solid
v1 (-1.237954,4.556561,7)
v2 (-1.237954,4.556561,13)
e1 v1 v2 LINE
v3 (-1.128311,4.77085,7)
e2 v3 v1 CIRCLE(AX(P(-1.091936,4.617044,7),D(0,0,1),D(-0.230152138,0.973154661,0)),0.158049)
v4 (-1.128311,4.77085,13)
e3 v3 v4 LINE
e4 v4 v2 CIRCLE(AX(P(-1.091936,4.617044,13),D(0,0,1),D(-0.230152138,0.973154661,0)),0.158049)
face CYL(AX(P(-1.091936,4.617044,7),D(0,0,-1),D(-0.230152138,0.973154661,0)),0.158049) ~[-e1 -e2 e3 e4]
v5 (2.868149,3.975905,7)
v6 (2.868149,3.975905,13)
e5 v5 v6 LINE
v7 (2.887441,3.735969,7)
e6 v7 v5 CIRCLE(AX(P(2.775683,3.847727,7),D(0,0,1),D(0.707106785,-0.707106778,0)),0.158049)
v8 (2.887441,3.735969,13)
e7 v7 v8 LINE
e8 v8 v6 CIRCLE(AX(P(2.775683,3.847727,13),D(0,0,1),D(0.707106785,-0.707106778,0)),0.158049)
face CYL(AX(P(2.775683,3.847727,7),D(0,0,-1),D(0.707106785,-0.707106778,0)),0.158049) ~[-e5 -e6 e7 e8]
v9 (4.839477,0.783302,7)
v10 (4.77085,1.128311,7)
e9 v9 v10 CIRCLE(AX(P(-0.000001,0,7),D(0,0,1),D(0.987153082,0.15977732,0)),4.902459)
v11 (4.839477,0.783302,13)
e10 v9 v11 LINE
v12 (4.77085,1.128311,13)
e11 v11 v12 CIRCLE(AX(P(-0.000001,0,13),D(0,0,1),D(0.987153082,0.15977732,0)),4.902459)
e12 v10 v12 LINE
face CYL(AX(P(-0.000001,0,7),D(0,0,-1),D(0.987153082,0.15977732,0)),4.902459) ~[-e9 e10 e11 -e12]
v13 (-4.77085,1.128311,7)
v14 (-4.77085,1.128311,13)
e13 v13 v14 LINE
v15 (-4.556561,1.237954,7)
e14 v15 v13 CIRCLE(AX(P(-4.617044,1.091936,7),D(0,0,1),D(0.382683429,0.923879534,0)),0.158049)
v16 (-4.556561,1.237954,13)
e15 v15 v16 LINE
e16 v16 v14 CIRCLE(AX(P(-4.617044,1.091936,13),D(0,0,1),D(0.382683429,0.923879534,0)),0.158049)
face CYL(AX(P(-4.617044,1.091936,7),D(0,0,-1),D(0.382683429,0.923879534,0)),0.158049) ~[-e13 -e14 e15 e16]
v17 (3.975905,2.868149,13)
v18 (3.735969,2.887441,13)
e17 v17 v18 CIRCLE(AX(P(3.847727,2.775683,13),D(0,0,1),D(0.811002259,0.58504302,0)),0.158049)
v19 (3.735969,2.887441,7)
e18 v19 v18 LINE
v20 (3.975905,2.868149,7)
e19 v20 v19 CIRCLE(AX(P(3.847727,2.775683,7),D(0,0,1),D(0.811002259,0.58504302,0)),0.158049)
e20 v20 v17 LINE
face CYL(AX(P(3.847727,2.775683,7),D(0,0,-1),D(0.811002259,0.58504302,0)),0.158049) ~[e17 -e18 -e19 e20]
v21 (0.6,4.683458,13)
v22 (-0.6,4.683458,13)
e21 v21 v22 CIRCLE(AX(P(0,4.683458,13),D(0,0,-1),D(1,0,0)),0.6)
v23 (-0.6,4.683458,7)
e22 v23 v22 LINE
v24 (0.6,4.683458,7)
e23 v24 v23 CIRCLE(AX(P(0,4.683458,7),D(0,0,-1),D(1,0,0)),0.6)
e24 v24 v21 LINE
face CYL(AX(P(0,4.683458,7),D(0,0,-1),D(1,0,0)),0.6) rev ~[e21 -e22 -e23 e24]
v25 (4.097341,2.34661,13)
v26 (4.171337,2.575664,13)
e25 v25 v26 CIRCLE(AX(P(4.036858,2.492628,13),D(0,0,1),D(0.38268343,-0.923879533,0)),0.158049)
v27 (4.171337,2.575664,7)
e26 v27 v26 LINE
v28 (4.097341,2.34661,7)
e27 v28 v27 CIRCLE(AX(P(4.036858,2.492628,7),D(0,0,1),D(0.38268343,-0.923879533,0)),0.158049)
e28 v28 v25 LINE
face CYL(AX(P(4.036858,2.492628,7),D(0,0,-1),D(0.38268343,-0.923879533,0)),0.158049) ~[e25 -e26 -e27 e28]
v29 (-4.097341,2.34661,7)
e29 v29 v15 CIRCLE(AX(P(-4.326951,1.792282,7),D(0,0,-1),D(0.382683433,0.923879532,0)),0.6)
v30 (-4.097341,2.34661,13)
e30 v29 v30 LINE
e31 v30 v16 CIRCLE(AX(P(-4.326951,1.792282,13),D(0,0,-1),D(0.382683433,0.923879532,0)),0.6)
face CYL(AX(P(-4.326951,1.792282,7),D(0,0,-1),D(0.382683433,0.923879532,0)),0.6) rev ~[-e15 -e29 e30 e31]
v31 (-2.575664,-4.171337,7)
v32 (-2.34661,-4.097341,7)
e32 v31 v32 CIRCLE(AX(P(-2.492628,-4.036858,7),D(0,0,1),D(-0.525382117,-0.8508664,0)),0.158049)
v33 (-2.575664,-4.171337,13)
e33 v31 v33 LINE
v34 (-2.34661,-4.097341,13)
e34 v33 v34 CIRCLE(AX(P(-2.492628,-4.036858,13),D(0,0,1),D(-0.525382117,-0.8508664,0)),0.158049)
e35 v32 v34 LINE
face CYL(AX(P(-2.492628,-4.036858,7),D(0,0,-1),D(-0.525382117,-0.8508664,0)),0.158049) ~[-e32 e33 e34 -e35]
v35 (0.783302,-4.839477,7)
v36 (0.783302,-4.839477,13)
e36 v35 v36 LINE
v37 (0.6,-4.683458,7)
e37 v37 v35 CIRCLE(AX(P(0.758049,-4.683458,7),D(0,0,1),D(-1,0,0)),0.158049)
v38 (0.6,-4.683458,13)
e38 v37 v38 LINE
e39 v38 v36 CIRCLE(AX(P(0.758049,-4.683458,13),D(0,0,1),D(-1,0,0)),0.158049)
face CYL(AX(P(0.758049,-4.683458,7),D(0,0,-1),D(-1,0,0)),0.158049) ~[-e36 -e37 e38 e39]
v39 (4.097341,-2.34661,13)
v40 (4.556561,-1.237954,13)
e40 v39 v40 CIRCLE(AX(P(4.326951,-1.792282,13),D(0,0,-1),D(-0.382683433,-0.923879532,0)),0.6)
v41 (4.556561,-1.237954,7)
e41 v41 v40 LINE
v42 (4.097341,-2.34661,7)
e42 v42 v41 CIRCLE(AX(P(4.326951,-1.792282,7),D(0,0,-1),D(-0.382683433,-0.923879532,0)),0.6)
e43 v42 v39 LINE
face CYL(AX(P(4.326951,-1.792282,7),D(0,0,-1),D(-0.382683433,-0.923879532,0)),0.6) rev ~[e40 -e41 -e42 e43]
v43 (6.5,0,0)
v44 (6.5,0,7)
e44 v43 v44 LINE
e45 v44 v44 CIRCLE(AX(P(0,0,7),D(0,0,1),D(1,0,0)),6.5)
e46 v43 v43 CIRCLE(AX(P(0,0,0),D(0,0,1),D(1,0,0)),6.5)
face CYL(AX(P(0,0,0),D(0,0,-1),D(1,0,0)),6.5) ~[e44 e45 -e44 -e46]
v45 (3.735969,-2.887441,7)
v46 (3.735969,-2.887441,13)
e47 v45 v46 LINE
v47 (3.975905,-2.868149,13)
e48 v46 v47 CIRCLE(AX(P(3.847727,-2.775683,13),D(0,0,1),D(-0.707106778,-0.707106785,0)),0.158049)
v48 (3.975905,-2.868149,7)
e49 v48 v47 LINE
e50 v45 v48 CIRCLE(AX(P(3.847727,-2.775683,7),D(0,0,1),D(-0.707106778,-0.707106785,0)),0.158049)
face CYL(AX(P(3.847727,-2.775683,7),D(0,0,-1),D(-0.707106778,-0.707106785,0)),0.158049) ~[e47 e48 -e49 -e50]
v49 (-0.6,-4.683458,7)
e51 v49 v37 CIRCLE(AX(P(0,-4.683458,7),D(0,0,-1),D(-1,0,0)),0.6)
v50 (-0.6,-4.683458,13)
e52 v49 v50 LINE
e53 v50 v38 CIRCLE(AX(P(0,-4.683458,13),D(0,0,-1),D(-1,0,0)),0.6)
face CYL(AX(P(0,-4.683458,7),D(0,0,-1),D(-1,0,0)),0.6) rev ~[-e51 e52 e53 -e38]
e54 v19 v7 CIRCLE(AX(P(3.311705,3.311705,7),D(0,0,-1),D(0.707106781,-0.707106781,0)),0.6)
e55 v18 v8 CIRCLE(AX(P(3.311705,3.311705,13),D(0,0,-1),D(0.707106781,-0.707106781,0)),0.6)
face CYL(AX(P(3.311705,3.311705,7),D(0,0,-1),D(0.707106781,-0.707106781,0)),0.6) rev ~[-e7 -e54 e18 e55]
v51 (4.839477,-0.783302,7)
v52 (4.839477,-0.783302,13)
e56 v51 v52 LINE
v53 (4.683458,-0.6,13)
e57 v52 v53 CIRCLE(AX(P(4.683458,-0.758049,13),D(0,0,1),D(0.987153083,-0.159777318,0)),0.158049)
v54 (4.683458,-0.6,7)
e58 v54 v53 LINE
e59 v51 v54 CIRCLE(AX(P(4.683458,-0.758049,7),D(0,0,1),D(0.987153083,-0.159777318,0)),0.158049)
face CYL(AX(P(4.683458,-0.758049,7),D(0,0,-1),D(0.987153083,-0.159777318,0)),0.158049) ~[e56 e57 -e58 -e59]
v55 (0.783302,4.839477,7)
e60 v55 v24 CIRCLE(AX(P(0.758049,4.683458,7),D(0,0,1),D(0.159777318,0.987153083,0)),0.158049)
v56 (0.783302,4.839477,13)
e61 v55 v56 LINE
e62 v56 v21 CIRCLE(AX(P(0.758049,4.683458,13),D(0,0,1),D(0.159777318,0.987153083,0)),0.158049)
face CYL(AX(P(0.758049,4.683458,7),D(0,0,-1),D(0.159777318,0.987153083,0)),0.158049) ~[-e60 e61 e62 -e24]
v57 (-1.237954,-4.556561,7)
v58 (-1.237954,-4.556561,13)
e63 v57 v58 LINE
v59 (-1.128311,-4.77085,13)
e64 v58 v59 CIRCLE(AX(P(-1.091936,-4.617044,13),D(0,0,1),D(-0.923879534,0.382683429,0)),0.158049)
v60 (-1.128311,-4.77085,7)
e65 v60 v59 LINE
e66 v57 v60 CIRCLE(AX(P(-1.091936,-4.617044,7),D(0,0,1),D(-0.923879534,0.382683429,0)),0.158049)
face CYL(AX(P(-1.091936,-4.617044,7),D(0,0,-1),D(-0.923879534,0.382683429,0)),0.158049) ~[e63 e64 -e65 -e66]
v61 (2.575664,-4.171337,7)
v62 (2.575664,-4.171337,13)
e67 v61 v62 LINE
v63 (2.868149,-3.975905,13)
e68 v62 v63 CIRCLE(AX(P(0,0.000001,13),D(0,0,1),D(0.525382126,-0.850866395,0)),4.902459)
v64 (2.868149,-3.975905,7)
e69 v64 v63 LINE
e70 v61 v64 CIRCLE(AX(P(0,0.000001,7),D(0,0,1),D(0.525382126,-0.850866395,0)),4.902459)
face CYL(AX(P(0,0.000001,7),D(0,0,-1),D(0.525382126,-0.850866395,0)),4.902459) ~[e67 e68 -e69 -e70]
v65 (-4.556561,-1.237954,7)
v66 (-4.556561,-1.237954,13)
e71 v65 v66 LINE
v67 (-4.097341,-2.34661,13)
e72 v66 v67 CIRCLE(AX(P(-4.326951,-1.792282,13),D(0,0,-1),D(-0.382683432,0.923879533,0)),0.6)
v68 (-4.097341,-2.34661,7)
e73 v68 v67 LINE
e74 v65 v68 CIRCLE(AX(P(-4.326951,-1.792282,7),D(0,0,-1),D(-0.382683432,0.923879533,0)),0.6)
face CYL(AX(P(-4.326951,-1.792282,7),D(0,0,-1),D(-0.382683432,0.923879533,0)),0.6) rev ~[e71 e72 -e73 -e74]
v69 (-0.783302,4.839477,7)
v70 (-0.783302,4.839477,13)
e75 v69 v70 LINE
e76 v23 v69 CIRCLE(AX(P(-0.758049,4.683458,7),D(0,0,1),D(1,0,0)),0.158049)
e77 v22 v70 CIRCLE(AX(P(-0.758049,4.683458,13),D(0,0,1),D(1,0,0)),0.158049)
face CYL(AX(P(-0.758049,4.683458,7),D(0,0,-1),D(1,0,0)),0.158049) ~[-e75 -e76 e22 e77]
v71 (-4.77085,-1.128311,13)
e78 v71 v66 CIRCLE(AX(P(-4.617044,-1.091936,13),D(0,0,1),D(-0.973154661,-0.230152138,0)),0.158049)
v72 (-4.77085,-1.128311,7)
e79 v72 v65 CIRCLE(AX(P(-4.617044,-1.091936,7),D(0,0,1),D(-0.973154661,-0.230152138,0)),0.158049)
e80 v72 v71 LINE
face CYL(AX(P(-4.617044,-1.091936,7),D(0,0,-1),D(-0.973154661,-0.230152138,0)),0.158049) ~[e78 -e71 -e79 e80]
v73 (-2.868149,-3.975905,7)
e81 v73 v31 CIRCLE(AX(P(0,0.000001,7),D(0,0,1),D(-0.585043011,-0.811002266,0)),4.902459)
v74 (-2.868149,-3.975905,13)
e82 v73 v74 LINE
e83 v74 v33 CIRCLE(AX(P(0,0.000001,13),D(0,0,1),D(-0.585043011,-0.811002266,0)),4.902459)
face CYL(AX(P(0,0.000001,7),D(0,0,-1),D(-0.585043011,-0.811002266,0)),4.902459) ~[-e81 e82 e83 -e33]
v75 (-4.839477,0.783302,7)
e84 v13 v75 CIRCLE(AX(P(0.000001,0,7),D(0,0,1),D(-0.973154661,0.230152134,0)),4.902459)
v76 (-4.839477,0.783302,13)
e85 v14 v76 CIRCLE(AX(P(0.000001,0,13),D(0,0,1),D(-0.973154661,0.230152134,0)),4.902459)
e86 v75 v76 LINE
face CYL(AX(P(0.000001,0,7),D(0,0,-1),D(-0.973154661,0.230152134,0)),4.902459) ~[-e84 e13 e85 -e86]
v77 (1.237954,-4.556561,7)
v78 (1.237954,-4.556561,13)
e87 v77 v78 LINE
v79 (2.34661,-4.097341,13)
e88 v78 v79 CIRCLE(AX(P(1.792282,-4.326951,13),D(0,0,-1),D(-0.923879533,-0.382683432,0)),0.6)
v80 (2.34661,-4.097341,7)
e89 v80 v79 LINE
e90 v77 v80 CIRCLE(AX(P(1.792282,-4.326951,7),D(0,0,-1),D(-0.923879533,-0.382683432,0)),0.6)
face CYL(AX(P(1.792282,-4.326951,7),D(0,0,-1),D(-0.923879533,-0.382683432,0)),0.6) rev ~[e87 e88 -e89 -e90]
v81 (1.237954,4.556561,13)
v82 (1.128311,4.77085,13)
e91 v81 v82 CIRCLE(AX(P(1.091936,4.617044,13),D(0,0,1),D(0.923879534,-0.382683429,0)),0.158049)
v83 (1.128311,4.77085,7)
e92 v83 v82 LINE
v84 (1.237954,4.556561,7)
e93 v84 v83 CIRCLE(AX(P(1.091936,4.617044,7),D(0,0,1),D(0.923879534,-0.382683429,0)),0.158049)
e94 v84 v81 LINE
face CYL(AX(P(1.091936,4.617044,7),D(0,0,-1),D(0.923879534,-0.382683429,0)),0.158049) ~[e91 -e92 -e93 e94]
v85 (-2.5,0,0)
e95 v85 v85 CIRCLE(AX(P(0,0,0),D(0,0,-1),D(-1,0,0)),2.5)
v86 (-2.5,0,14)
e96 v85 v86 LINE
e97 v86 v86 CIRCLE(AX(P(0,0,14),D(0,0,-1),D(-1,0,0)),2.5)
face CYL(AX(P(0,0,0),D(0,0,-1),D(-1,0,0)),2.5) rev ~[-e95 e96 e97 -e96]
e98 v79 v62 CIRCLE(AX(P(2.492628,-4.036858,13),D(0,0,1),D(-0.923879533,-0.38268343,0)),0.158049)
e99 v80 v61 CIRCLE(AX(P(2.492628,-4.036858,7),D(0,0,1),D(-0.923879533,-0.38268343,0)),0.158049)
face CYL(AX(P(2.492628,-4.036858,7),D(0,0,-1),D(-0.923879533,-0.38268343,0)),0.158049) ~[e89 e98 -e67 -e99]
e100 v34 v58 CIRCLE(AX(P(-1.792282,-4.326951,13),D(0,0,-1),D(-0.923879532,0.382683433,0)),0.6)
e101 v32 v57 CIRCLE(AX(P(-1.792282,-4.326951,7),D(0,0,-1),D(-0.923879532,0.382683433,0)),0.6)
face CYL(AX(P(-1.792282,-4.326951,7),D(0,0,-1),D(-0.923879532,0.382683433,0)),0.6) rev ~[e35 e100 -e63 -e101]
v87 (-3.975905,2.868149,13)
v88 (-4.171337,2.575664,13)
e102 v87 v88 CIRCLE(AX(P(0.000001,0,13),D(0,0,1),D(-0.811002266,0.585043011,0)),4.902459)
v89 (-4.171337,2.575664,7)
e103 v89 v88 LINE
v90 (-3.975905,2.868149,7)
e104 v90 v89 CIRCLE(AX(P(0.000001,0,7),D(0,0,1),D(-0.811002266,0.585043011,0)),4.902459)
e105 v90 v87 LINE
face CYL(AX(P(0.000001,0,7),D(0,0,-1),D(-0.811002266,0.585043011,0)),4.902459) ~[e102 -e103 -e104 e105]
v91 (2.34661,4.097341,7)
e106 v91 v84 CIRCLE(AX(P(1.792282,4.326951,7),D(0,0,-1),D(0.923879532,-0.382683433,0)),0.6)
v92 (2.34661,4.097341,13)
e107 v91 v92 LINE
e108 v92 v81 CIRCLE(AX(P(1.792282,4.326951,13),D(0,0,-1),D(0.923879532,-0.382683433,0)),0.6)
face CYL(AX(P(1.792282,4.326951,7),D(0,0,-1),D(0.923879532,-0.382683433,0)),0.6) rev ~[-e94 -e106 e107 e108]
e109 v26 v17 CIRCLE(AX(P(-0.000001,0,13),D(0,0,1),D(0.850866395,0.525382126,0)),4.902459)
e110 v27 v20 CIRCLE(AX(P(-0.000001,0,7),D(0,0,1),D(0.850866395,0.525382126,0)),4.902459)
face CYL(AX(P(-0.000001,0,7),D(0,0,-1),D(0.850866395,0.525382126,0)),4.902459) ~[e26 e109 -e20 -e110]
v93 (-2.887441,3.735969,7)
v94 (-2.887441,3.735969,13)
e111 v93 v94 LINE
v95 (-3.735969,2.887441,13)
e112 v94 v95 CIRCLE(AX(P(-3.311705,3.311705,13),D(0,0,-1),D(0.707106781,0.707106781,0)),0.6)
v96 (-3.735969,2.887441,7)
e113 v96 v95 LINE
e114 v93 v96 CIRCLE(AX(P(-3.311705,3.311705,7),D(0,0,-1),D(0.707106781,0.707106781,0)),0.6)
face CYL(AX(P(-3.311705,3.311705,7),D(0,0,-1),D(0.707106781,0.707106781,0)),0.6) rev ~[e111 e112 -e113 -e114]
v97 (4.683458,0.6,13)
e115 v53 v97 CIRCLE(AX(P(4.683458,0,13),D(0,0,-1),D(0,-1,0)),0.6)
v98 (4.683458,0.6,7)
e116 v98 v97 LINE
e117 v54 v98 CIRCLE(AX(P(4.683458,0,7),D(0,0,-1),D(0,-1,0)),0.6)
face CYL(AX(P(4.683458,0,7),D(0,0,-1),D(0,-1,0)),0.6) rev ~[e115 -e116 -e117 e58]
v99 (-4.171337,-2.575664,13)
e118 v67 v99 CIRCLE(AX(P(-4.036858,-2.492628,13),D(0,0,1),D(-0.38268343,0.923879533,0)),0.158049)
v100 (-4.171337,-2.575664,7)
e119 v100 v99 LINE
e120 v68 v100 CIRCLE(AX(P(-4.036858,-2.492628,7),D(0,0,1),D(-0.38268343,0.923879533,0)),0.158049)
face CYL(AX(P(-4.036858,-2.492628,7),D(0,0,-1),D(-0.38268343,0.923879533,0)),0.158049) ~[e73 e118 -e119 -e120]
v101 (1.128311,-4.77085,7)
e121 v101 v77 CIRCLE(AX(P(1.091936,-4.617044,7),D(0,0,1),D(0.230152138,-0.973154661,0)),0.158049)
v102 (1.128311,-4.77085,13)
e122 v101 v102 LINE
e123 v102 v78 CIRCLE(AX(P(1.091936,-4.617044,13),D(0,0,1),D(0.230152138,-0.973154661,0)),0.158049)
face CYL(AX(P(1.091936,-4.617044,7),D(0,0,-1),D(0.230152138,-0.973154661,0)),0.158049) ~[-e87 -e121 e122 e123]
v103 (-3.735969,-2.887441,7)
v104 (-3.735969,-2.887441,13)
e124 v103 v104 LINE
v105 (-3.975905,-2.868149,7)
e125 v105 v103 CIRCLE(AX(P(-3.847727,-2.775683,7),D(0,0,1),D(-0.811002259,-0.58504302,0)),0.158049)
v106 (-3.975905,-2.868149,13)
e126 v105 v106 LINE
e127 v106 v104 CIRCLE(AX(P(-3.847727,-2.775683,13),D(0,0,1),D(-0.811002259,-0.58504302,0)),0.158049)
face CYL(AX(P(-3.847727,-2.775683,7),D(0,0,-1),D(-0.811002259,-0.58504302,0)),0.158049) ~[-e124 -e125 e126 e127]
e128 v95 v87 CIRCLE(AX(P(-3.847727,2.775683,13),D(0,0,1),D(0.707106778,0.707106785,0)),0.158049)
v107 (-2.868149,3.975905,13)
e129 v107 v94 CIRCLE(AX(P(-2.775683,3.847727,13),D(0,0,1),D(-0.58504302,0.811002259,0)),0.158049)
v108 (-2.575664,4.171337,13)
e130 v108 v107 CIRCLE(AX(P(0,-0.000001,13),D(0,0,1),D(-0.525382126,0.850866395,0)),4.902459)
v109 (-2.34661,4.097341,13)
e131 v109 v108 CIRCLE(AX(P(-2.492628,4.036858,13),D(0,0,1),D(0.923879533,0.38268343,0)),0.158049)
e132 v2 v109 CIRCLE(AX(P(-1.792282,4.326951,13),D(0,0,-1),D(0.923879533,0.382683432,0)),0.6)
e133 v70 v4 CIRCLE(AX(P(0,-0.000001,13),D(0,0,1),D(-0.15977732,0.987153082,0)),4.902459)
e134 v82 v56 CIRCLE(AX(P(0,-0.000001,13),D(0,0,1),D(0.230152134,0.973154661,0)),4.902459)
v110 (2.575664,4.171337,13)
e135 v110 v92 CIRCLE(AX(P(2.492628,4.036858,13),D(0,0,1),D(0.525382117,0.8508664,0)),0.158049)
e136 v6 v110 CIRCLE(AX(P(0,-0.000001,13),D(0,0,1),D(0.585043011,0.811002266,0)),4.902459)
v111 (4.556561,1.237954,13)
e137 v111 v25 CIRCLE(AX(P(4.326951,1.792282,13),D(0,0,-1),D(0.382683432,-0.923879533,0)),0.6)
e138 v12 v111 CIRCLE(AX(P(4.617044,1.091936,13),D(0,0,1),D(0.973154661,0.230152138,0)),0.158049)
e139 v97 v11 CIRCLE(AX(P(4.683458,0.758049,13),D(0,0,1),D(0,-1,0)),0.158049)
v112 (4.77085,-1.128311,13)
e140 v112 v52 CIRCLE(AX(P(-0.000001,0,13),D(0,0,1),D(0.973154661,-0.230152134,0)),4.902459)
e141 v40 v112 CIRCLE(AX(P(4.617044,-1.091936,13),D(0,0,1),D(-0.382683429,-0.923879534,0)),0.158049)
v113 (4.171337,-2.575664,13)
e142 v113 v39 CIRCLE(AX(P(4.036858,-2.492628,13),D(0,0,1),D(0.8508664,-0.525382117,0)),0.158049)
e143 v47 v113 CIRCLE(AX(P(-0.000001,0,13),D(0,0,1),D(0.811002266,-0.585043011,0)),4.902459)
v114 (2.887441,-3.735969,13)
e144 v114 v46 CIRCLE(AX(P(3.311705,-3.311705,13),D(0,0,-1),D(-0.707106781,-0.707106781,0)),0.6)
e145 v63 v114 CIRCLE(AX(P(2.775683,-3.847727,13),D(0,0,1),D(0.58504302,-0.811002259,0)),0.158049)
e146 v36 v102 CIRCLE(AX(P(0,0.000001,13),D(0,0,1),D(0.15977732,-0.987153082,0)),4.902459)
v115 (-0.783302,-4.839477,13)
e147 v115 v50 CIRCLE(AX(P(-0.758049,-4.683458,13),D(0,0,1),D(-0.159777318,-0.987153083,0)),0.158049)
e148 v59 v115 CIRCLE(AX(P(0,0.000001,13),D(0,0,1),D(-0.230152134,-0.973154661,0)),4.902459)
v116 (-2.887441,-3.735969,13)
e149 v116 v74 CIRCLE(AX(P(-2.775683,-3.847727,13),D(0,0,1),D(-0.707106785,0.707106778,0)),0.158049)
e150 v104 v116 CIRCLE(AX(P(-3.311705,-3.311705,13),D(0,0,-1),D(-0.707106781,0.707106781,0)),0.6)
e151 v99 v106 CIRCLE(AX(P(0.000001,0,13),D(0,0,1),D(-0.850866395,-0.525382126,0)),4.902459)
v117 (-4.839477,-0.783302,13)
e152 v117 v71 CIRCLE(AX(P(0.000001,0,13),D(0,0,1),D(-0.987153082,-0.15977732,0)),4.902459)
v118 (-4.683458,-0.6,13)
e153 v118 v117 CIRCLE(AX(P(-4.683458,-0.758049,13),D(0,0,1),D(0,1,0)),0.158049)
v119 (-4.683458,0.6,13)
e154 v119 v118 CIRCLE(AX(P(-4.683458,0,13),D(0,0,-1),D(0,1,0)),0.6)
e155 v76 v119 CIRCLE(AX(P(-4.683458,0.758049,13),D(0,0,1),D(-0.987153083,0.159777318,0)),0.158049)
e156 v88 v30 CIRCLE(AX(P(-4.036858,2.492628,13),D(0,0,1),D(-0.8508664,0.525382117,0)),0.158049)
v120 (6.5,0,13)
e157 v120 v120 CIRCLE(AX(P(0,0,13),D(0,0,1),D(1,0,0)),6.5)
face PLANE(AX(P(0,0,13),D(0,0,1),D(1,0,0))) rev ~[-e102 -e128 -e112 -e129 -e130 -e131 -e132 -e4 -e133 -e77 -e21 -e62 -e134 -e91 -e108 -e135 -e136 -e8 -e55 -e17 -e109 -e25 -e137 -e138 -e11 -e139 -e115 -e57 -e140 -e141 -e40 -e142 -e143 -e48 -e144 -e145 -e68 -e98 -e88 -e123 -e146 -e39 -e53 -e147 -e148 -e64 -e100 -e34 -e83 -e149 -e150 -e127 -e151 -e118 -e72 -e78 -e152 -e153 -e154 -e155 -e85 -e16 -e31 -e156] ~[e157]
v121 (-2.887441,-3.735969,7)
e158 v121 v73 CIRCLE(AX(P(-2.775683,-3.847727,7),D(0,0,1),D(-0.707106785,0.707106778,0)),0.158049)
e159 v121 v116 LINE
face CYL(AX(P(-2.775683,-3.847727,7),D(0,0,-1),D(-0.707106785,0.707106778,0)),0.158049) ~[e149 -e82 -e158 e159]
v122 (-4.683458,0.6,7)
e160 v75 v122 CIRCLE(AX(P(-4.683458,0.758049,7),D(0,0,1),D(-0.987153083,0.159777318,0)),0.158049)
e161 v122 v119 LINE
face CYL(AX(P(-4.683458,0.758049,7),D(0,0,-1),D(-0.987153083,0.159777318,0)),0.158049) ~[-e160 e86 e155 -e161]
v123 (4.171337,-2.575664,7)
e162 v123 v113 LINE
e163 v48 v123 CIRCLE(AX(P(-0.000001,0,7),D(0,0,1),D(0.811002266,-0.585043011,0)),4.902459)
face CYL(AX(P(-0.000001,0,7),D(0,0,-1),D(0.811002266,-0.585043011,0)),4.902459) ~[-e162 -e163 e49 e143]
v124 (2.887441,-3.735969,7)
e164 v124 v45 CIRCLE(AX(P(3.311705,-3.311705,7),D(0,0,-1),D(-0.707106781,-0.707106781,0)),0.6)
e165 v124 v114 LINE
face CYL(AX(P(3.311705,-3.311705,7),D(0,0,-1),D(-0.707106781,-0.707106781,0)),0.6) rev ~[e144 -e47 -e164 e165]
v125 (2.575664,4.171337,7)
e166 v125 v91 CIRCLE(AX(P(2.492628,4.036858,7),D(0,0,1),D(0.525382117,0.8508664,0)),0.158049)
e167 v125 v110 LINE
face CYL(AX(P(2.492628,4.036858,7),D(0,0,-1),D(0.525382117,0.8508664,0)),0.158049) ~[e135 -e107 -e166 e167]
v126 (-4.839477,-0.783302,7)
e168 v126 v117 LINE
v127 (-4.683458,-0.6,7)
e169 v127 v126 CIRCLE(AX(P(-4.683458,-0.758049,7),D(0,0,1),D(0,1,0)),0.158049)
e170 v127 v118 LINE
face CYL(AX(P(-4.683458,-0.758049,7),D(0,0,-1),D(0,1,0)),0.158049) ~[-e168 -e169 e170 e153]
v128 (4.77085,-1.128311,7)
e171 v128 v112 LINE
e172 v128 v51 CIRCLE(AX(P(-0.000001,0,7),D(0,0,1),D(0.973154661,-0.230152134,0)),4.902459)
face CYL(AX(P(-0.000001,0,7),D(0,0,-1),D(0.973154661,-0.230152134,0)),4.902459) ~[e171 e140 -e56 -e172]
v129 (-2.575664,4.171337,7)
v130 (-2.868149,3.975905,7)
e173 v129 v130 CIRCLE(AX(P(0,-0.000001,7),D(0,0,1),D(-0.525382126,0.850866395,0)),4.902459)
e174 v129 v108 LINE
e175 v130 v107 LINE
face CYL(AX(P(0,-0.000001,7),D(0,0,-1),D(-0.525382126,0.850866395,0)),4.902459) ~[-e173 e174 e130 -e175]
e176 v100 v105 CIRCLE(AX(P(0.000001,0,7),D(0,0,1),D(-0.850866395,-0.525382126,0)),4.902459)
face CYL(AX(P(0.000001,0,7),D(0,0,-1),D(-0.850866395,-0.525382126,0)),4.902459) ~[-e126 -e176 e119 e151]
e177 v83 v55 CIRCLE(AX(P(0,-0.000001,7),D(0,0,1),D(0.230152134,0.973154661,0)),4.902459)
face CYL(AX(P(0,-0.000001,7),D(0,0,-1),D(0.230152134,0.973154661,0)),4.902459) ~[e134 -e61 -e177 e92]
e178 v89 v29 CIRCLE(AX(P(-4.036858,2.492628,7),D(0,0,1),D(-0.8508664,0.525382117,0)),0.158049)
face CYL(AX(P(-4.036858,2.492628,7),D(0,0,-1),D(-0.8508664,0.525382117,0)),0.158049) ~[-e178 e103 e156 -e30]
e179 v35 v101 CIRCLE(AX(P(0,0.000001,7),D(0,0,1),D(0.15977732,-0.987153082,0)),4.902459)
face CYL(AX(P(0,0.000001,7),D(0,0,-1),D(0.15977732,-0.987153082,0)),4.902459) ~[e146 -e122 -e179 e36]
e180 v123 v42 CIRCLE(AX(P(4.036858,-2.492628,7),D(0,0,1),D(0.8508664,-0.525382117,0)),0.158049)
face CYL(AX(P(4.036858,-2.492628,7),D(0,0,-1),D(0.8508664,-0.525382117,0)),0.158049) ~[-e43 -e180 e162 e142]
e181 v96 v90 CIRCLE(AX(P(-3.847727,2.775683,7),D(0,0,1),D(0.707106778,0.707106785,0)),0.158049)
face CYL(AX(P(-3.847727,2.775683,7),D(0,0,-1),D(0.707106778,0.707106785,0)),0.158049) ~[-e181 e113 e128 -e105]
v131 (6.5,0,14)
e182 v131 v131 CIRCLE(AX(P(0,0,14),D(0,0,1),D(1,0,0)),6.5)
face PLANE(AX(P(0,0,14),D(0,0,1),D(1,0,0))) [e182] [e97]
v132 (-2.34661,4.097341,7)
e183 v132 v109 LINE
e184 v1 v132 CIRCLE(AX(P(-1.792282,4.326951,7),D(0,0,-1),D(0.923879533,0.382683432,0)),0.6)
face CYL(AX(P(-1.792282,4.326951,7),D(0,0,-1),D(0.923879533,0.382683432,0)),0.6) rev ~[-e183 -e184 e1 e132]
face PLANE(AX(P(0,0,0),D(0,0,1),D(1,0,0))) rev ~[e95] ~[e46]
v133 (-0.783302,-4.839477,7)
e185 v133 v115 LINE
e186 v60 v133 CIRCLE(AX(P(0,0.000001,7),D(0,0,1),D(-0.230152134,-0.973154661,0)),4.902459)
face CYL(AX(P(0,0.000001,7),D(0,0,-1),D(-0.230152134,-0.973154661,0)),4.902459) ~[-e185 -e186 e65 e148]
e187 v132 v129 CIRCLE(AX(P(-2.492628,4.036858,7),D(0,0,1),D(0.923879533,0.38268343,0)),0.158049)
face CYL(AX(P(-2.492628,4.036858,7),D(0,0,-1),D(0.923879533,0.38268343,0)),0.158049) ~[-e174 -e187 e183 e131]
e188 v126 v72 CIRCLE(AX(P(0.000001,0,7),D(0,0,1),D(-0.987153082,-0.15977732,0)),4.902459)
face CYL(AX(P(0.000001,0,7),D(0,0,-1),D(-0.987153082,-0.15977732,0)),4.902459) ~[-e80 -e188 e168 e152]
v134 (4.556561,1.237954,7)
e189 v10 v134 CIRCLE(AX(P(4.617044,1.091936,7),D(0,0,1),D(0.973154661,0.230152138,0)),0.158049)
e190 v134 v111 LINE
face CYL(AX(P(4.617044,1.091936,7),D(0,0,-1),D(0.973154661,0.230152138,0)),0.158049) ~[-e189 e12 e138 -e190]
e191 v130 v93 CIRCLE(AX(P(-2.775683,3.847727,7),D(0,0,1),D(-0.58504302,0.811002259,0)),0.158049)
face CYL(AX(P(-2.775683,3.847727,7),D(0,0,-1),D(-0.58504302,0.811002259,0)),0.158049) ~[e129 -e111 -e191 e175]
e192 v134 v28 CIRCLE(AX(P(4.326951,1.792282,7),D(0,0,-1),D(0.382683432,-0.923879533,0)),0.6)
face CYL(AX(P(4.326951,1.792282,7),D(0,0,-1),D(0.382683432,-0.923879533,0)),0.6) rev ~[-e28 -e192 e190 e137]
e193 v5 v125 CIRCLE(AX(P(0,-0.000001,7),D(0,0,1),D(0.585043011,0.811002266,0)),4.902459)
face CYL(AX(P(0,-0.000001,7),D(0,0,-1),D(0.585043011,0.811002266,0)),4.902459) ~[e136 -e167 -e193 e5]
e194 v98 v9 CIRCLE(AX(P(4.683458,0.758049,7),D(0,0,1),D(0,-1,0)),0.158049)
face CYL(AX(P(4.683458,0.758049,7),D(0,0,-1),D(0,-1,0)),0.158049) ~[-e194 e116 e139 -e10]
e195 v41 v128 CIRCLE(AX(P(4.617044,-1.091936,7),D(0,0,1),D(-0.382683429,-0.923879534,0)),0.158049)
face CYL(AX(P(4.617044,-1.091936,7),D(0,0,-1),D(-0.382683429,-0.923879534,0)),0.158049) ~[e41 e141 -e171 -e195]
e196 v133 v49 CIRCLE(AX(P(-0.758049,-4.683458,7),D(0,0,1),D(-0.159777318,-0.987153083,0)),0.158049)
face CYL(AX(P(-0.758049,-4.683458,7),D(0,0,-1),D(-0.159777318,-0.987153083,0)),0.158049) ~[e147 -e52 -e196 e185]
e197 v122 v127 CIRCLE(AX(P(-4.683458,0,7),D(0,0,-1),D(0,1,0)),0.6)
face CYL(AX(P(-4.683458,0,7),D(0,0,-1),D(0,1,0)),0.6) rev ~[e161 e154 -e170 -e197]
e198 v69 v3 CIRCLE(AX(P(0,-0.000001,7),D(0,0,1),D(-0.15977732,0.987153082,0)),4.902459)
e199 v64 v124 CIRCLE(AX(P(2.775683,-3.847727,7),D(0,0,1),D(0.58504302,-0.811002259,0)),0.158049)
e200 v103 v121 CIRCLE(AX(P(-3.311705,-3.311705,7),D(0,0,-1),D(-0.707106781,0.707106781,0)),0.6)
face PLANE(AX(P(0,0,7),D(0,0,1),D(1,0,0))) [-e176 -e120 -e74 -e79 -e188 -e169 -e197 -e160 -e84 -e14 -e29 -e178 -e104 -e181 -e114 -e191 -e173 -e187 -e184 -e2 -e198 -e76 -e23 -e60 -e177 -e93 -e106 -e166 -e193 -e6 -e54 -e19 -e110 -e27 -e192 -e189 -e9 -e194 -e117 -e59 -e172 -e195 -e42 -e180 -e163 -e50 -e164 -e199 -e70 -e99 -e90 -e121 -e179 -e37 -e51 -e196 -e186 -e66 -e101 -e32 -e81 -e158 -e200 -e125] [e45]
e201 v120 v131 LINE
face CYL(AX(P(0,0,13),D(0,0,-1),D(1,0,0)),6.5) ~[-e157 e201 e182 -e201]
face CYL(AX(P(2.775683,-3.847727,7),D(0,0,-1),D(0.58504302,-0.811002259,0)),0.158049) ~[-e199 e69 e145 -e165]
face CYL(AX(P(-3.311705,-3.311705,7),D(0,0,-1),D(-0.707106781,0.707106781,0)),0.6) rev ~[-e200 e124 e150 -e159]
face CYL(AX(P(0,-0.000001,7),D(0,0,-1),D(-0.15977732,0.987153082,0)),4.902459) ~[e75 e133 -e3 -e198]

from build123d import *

# Parameters (mm, degrees)
SKETCH_1_R          = 6.5
EXTRUDE_1_DEPTH     = 7
EXTRUDE_2_DEPTH     = 6
SKETCH_4_R          = 6.5
EXTRUDE_3_DEPTH     = 1
SKETCH_5_R          = 2.5
CUT_EXTRUDE_1_DEPTH = 17.748134224


with BuildPart() as part:
    # 草图1 → 凸台-拉伸1 (new body)
    with BuildSketch(Plane.XY):
        Circle(SKETCH_1_R)
    extrude(amount=EXTRUDE_1_DEPTH)

    # 草图2 → 凸台-拉伸2 (add)
    with BuildSketch(Plane.XY.offset(7)):
        with BuildLine():
            ThreePointArc((-0.599999991, 4.683458109), (-0.655607945, 4.803813062), (-0.783301597, 4.839476633))
            ThreePointArc((-0.783301597, 4.839476633), (-0.95642213, 4.808258747), (-1.128311215, 4.770849953))
            ThreePointArc((-1.128311215, 4.770849953), (-1.232636909, 4.689034864), (-1.237954113, 4.556561144))
            ThreePointArc((-1.237954113, 4.556561144), (-1.562671768, 3.772623377), (-2.346609536, 4.097341032))
            ThreePointArc((-2.346609536, 4.097341032), (-2.444042432, 4.187254267), (-2.575663842, 4.171336866))
            ThreePointArc((-2.575663842, 4.171336866), (-2.723659792, 4.07624494), (-2.868148874, 3.975904616))
            ThreePointArc((-2.868148874, 3.975904616), (-2.933223968, 3.860393615), (-2.887440926, 3.73596905))
            ThreePointArc((-2.887440926, 3.73596905), (-2.887440926, 2.887440926), (-3.73596905, 2.887440926))
            ThreePointArc((-3.73596905, 2.887440926), (-3.860393615, 2.933223968), (-3.975904616, 2.868148874))
            ThreePointArc((-3.975904616, 2.868148874), (-4.07624494, 2.723659792), (-4.171336866, 2.575663842))
            ThreePointArc((-4.171336866, 2.575663842), (-4.187254267, 2.444042432), (-4.097341032, 2.346609535))
            ThreePointArc((-4.097341032, 2.346609535), (-3.772623377, 1.562671768), (-4.556561144, 1.237954113))
            ThreePointArc((-4.556561144, 1.237954113), (-4.689034864, 1.232636909), (-4.770849953, 1.128311215))
            ThreePointArc((-4.770849953, 1.128311215), (-4.808258747, 0.95642213), (-4.839476633, 0.783301597))
            ThreePointArc((-4.839476633, 0.783301597), (-4.803813062, 0.655607945), (-4.683458109, 0.599999991))
            ThreePointArc((-4.683458109, 0.599999991), (-4.083458118, 0), (-4.683458109, -0.599999991))
            ThreePointArc((-4.683458109, -0.599999991), (-4.803813062, -0.655607945), (-4.839476633, -0.783301597))
            ThreePointArc((-4.839476633, -0.783301597), (-4.808258747, -0.95642213), (-4.770849953, -1.128311215))
            ThreePointArc((-4.770849953, -1.128311215), (-4.689034864, -1.232636909), (-4.556561144, -1.237954113))
            ThreePointArc((-4.556561144, -1.237954113), (-3.772623377, -1.562671768), (-4.097341032, -2.346609536))
            ThreePointArc((-4.097341032, -2.346609536), (-4.187254267, -2.444042432), (-4.171336866, -2.575663842))
            ThreePointArc((-4.171336866, -2.575663842), (-4.07624494, -2.723659792), (-3.975904616, -2.868148874))
            ThreePointArc((-3.975904616, -2.868148874), (-3.860393615, -2.933223968), (-3.73596905, -2.887440926))
            ThreePointArc((-3.73596905, -2.887440926), (-2.887440926, -2.887440926), (-2.887440926, -3.73596905))
            ThreePointArc((-2.887440926, -3.73596905), (-2.933223968, -3.860393615), (-2.868148874, -3.975904616))
            ThreePointArc((-2.868148874, -3.975904616), (-2.723659792, -4.07624494), (-2.575663842, -4.171336866))
            ThreePointArc((-2.575663842, -4.171336866), (-2.444042432, -4.187254267), (-2.346609535, -4.097341032))
            ThreePointArc((-2.346609535, -4.097341032), (-1.562671768, -3.772623377), (-1.237954113, -4.556561144))
            ThreePointArc((-1.237954113, -4.556561144), (-1.232636909, -4.689034864), (-1.128311215, -4.770849953))
            ThreePointArc((-1.128311215, -4.770849953), (-0.95642213, -4.808258747), (-0.783301597, -4.839476633))
            ThreePointArc((-0.783301597, -4.839476633), (-0.655607945, -4.803813062), (-0.599999991, -4.683458109))
            ThreePointArc((-0.599999991, -4.683458109), (0, -4.083458118), (0.599999991, -4.683458109))
            ThreePointArc((0.599999991, -4.683458109), (0.655607945, -4.803813062), (0.783301597, -4.839476633))
            ThreePointArc((0.783301597, -4.839476633), (0.95642213, -4.808258747), (1.128311215, -4.770849953))
            ThreePointArc((1.128311215, -4.770849953), (1.232636909, -4.689034864), (1.237954113, -4.556561144))
            ThreePointArc((1.237954113, -4.556561144), (1.562671768, -3.772623377), (2.346609536, -4.097341032))
            ThreePointArc((2.346609536, -4.097341032), (2.444042432, -4.187254267), (2.575663842, -4.171336866))
            ThreePointArc((2.575663842, -4.171336866), (2.723659792, -4.07624494), (2.868148874, -3.975904616))
            ThreePointArc((2.868148874, -3.975904616), (2.933223968, -3.860393615), (2.887440926, -3.73596905))
            ThreePointArc((2.887440926, -3.73596905), (2.887440926, -2.887440926), (3.73596905, -2.887440926))
            ThreePointArc((3.73596905, -2.887440926), (3.860393615, -2.933223968), (3.975904616, -2.868148874))
            ThreePointArc((3.975904616, -2.868148874), (4.07624494, -2.723659792), (4.171336866, -2.575663842))
            ThreePointArc((4.171336866, -2.575663842), (4.187254267, -2.444042432), (4.097341032, -2.346609535))
            ThreePointArc((4.097341032, -2.346609535), (3.772623377, -1.562671768), (4.556561144, -1.237954113))
            ThreePointArc((4.556561144, -1.237954113), (4.689034864, -1.232636909), (4.770849953, -1.128311215))
            ThreePointArc((4.770849953, -1.128311215), (4.808258747, -0.95642213), (4.839476633, -0.783301597))
            ThreePointArc((4.839476633, -0.783301597), (4.803813062, -0.655607945), (4.683458109, -0.599999991))
            ThreePointArc((4.683458109, -0.599999991), (4.083458118, 0), (4.683458109, 0.599999991))
            ThreePointArc((4.683458109, 0.599999991), (4.803813062, 0.655607945), (4.839476633, 0.783301597))
            ThreePointArc((4.839476633, 0.783301597), (4.808258747, 0.95642213), (4.770849953, 1.128311215))
            ThreePointArc((4.770849953, 1.128311215), (4.689034864, 1.232636909), (4.556561144, 1.237954113))
            ThreePointArc((4.556561144, 1.237954113), (3.772623377, 1.562671768), (4.097341032, 2.346609536))
            ThreePointArc((4.097341032, 2.346609536), (4.187254267, 2.444042432), (4.171336866, 2.575663842))
            ThreePointArc((4.171336866, 2.575663842), (4.07624494, 2.723659792), (3.975904616, 2.868148874))
            ThreePointArc((3.975904616, 2.868148874), (3.860393615, 2.933223968), (3.73596905, 2.887440926))
            ThreePointArc((3.73596905, 2.887440926), (2.887440926, 2.887440926), (2.887440926, 3.73596905))
            ThreePointArc((2.887440926, 3.73596905), (2.933223968, 3.860393615), (2.868148874, 3.975904616))
            ThreePointArc((2.868148874, 3.975904616), (2.723659792, 4.07624494), (2.575663842, 4.171336866))
            ThreePointArc((2.575663842, 4.171336866), (2.444042432, 4.187254267), (2.346609535, 4.097341032))
            ThreePointArc((2.346609535, 4.097341032), (1.562671768, 3.772623377), (1.237954113, 4.556561144))
            ThreePointArc((1.237954113, 4.556561144), (1.232636909, 4.689034864), (1.128311215, 4.770849953))
            ThreePointArc((1.128311215, 4.770849953), (0.95642213, 4.808258747), (0.783301597, 4.839476633))
            ThreePointArc((0.783301597, 4.839476633), (0.655607945, 4.803813062), (0.599999991, 4.683458109))
            ThreePointArc((0.599999991, 4.683458109), (0, 4.083458118), (-0.599999991, 4.683458109))
        make_face()
    extrude(amount=EXTRUDE_2_DEPTH)

    # 草图4 → 凸台-拉伸3 (add)
    with BuildSketch(Plane.XY.offset(13)):
        Circle(SKETCH_4_R)
    extrude(amount=EXTRUDE_3_DEPTH)

    # 草图5 → 切除-拉伸1 (cut, through all)
    with BuildSketch(Plane(origin=(0, 0, 0), x_dir=(-1, 0, 0), z_dir=(0, 0, -1))):
        Circle(SKETCH_5_R)
    extrude(amount=-CUT_EXTRUDE_1_DEPTH, mode=Mode.SUBTRACT)


solid = part.part
